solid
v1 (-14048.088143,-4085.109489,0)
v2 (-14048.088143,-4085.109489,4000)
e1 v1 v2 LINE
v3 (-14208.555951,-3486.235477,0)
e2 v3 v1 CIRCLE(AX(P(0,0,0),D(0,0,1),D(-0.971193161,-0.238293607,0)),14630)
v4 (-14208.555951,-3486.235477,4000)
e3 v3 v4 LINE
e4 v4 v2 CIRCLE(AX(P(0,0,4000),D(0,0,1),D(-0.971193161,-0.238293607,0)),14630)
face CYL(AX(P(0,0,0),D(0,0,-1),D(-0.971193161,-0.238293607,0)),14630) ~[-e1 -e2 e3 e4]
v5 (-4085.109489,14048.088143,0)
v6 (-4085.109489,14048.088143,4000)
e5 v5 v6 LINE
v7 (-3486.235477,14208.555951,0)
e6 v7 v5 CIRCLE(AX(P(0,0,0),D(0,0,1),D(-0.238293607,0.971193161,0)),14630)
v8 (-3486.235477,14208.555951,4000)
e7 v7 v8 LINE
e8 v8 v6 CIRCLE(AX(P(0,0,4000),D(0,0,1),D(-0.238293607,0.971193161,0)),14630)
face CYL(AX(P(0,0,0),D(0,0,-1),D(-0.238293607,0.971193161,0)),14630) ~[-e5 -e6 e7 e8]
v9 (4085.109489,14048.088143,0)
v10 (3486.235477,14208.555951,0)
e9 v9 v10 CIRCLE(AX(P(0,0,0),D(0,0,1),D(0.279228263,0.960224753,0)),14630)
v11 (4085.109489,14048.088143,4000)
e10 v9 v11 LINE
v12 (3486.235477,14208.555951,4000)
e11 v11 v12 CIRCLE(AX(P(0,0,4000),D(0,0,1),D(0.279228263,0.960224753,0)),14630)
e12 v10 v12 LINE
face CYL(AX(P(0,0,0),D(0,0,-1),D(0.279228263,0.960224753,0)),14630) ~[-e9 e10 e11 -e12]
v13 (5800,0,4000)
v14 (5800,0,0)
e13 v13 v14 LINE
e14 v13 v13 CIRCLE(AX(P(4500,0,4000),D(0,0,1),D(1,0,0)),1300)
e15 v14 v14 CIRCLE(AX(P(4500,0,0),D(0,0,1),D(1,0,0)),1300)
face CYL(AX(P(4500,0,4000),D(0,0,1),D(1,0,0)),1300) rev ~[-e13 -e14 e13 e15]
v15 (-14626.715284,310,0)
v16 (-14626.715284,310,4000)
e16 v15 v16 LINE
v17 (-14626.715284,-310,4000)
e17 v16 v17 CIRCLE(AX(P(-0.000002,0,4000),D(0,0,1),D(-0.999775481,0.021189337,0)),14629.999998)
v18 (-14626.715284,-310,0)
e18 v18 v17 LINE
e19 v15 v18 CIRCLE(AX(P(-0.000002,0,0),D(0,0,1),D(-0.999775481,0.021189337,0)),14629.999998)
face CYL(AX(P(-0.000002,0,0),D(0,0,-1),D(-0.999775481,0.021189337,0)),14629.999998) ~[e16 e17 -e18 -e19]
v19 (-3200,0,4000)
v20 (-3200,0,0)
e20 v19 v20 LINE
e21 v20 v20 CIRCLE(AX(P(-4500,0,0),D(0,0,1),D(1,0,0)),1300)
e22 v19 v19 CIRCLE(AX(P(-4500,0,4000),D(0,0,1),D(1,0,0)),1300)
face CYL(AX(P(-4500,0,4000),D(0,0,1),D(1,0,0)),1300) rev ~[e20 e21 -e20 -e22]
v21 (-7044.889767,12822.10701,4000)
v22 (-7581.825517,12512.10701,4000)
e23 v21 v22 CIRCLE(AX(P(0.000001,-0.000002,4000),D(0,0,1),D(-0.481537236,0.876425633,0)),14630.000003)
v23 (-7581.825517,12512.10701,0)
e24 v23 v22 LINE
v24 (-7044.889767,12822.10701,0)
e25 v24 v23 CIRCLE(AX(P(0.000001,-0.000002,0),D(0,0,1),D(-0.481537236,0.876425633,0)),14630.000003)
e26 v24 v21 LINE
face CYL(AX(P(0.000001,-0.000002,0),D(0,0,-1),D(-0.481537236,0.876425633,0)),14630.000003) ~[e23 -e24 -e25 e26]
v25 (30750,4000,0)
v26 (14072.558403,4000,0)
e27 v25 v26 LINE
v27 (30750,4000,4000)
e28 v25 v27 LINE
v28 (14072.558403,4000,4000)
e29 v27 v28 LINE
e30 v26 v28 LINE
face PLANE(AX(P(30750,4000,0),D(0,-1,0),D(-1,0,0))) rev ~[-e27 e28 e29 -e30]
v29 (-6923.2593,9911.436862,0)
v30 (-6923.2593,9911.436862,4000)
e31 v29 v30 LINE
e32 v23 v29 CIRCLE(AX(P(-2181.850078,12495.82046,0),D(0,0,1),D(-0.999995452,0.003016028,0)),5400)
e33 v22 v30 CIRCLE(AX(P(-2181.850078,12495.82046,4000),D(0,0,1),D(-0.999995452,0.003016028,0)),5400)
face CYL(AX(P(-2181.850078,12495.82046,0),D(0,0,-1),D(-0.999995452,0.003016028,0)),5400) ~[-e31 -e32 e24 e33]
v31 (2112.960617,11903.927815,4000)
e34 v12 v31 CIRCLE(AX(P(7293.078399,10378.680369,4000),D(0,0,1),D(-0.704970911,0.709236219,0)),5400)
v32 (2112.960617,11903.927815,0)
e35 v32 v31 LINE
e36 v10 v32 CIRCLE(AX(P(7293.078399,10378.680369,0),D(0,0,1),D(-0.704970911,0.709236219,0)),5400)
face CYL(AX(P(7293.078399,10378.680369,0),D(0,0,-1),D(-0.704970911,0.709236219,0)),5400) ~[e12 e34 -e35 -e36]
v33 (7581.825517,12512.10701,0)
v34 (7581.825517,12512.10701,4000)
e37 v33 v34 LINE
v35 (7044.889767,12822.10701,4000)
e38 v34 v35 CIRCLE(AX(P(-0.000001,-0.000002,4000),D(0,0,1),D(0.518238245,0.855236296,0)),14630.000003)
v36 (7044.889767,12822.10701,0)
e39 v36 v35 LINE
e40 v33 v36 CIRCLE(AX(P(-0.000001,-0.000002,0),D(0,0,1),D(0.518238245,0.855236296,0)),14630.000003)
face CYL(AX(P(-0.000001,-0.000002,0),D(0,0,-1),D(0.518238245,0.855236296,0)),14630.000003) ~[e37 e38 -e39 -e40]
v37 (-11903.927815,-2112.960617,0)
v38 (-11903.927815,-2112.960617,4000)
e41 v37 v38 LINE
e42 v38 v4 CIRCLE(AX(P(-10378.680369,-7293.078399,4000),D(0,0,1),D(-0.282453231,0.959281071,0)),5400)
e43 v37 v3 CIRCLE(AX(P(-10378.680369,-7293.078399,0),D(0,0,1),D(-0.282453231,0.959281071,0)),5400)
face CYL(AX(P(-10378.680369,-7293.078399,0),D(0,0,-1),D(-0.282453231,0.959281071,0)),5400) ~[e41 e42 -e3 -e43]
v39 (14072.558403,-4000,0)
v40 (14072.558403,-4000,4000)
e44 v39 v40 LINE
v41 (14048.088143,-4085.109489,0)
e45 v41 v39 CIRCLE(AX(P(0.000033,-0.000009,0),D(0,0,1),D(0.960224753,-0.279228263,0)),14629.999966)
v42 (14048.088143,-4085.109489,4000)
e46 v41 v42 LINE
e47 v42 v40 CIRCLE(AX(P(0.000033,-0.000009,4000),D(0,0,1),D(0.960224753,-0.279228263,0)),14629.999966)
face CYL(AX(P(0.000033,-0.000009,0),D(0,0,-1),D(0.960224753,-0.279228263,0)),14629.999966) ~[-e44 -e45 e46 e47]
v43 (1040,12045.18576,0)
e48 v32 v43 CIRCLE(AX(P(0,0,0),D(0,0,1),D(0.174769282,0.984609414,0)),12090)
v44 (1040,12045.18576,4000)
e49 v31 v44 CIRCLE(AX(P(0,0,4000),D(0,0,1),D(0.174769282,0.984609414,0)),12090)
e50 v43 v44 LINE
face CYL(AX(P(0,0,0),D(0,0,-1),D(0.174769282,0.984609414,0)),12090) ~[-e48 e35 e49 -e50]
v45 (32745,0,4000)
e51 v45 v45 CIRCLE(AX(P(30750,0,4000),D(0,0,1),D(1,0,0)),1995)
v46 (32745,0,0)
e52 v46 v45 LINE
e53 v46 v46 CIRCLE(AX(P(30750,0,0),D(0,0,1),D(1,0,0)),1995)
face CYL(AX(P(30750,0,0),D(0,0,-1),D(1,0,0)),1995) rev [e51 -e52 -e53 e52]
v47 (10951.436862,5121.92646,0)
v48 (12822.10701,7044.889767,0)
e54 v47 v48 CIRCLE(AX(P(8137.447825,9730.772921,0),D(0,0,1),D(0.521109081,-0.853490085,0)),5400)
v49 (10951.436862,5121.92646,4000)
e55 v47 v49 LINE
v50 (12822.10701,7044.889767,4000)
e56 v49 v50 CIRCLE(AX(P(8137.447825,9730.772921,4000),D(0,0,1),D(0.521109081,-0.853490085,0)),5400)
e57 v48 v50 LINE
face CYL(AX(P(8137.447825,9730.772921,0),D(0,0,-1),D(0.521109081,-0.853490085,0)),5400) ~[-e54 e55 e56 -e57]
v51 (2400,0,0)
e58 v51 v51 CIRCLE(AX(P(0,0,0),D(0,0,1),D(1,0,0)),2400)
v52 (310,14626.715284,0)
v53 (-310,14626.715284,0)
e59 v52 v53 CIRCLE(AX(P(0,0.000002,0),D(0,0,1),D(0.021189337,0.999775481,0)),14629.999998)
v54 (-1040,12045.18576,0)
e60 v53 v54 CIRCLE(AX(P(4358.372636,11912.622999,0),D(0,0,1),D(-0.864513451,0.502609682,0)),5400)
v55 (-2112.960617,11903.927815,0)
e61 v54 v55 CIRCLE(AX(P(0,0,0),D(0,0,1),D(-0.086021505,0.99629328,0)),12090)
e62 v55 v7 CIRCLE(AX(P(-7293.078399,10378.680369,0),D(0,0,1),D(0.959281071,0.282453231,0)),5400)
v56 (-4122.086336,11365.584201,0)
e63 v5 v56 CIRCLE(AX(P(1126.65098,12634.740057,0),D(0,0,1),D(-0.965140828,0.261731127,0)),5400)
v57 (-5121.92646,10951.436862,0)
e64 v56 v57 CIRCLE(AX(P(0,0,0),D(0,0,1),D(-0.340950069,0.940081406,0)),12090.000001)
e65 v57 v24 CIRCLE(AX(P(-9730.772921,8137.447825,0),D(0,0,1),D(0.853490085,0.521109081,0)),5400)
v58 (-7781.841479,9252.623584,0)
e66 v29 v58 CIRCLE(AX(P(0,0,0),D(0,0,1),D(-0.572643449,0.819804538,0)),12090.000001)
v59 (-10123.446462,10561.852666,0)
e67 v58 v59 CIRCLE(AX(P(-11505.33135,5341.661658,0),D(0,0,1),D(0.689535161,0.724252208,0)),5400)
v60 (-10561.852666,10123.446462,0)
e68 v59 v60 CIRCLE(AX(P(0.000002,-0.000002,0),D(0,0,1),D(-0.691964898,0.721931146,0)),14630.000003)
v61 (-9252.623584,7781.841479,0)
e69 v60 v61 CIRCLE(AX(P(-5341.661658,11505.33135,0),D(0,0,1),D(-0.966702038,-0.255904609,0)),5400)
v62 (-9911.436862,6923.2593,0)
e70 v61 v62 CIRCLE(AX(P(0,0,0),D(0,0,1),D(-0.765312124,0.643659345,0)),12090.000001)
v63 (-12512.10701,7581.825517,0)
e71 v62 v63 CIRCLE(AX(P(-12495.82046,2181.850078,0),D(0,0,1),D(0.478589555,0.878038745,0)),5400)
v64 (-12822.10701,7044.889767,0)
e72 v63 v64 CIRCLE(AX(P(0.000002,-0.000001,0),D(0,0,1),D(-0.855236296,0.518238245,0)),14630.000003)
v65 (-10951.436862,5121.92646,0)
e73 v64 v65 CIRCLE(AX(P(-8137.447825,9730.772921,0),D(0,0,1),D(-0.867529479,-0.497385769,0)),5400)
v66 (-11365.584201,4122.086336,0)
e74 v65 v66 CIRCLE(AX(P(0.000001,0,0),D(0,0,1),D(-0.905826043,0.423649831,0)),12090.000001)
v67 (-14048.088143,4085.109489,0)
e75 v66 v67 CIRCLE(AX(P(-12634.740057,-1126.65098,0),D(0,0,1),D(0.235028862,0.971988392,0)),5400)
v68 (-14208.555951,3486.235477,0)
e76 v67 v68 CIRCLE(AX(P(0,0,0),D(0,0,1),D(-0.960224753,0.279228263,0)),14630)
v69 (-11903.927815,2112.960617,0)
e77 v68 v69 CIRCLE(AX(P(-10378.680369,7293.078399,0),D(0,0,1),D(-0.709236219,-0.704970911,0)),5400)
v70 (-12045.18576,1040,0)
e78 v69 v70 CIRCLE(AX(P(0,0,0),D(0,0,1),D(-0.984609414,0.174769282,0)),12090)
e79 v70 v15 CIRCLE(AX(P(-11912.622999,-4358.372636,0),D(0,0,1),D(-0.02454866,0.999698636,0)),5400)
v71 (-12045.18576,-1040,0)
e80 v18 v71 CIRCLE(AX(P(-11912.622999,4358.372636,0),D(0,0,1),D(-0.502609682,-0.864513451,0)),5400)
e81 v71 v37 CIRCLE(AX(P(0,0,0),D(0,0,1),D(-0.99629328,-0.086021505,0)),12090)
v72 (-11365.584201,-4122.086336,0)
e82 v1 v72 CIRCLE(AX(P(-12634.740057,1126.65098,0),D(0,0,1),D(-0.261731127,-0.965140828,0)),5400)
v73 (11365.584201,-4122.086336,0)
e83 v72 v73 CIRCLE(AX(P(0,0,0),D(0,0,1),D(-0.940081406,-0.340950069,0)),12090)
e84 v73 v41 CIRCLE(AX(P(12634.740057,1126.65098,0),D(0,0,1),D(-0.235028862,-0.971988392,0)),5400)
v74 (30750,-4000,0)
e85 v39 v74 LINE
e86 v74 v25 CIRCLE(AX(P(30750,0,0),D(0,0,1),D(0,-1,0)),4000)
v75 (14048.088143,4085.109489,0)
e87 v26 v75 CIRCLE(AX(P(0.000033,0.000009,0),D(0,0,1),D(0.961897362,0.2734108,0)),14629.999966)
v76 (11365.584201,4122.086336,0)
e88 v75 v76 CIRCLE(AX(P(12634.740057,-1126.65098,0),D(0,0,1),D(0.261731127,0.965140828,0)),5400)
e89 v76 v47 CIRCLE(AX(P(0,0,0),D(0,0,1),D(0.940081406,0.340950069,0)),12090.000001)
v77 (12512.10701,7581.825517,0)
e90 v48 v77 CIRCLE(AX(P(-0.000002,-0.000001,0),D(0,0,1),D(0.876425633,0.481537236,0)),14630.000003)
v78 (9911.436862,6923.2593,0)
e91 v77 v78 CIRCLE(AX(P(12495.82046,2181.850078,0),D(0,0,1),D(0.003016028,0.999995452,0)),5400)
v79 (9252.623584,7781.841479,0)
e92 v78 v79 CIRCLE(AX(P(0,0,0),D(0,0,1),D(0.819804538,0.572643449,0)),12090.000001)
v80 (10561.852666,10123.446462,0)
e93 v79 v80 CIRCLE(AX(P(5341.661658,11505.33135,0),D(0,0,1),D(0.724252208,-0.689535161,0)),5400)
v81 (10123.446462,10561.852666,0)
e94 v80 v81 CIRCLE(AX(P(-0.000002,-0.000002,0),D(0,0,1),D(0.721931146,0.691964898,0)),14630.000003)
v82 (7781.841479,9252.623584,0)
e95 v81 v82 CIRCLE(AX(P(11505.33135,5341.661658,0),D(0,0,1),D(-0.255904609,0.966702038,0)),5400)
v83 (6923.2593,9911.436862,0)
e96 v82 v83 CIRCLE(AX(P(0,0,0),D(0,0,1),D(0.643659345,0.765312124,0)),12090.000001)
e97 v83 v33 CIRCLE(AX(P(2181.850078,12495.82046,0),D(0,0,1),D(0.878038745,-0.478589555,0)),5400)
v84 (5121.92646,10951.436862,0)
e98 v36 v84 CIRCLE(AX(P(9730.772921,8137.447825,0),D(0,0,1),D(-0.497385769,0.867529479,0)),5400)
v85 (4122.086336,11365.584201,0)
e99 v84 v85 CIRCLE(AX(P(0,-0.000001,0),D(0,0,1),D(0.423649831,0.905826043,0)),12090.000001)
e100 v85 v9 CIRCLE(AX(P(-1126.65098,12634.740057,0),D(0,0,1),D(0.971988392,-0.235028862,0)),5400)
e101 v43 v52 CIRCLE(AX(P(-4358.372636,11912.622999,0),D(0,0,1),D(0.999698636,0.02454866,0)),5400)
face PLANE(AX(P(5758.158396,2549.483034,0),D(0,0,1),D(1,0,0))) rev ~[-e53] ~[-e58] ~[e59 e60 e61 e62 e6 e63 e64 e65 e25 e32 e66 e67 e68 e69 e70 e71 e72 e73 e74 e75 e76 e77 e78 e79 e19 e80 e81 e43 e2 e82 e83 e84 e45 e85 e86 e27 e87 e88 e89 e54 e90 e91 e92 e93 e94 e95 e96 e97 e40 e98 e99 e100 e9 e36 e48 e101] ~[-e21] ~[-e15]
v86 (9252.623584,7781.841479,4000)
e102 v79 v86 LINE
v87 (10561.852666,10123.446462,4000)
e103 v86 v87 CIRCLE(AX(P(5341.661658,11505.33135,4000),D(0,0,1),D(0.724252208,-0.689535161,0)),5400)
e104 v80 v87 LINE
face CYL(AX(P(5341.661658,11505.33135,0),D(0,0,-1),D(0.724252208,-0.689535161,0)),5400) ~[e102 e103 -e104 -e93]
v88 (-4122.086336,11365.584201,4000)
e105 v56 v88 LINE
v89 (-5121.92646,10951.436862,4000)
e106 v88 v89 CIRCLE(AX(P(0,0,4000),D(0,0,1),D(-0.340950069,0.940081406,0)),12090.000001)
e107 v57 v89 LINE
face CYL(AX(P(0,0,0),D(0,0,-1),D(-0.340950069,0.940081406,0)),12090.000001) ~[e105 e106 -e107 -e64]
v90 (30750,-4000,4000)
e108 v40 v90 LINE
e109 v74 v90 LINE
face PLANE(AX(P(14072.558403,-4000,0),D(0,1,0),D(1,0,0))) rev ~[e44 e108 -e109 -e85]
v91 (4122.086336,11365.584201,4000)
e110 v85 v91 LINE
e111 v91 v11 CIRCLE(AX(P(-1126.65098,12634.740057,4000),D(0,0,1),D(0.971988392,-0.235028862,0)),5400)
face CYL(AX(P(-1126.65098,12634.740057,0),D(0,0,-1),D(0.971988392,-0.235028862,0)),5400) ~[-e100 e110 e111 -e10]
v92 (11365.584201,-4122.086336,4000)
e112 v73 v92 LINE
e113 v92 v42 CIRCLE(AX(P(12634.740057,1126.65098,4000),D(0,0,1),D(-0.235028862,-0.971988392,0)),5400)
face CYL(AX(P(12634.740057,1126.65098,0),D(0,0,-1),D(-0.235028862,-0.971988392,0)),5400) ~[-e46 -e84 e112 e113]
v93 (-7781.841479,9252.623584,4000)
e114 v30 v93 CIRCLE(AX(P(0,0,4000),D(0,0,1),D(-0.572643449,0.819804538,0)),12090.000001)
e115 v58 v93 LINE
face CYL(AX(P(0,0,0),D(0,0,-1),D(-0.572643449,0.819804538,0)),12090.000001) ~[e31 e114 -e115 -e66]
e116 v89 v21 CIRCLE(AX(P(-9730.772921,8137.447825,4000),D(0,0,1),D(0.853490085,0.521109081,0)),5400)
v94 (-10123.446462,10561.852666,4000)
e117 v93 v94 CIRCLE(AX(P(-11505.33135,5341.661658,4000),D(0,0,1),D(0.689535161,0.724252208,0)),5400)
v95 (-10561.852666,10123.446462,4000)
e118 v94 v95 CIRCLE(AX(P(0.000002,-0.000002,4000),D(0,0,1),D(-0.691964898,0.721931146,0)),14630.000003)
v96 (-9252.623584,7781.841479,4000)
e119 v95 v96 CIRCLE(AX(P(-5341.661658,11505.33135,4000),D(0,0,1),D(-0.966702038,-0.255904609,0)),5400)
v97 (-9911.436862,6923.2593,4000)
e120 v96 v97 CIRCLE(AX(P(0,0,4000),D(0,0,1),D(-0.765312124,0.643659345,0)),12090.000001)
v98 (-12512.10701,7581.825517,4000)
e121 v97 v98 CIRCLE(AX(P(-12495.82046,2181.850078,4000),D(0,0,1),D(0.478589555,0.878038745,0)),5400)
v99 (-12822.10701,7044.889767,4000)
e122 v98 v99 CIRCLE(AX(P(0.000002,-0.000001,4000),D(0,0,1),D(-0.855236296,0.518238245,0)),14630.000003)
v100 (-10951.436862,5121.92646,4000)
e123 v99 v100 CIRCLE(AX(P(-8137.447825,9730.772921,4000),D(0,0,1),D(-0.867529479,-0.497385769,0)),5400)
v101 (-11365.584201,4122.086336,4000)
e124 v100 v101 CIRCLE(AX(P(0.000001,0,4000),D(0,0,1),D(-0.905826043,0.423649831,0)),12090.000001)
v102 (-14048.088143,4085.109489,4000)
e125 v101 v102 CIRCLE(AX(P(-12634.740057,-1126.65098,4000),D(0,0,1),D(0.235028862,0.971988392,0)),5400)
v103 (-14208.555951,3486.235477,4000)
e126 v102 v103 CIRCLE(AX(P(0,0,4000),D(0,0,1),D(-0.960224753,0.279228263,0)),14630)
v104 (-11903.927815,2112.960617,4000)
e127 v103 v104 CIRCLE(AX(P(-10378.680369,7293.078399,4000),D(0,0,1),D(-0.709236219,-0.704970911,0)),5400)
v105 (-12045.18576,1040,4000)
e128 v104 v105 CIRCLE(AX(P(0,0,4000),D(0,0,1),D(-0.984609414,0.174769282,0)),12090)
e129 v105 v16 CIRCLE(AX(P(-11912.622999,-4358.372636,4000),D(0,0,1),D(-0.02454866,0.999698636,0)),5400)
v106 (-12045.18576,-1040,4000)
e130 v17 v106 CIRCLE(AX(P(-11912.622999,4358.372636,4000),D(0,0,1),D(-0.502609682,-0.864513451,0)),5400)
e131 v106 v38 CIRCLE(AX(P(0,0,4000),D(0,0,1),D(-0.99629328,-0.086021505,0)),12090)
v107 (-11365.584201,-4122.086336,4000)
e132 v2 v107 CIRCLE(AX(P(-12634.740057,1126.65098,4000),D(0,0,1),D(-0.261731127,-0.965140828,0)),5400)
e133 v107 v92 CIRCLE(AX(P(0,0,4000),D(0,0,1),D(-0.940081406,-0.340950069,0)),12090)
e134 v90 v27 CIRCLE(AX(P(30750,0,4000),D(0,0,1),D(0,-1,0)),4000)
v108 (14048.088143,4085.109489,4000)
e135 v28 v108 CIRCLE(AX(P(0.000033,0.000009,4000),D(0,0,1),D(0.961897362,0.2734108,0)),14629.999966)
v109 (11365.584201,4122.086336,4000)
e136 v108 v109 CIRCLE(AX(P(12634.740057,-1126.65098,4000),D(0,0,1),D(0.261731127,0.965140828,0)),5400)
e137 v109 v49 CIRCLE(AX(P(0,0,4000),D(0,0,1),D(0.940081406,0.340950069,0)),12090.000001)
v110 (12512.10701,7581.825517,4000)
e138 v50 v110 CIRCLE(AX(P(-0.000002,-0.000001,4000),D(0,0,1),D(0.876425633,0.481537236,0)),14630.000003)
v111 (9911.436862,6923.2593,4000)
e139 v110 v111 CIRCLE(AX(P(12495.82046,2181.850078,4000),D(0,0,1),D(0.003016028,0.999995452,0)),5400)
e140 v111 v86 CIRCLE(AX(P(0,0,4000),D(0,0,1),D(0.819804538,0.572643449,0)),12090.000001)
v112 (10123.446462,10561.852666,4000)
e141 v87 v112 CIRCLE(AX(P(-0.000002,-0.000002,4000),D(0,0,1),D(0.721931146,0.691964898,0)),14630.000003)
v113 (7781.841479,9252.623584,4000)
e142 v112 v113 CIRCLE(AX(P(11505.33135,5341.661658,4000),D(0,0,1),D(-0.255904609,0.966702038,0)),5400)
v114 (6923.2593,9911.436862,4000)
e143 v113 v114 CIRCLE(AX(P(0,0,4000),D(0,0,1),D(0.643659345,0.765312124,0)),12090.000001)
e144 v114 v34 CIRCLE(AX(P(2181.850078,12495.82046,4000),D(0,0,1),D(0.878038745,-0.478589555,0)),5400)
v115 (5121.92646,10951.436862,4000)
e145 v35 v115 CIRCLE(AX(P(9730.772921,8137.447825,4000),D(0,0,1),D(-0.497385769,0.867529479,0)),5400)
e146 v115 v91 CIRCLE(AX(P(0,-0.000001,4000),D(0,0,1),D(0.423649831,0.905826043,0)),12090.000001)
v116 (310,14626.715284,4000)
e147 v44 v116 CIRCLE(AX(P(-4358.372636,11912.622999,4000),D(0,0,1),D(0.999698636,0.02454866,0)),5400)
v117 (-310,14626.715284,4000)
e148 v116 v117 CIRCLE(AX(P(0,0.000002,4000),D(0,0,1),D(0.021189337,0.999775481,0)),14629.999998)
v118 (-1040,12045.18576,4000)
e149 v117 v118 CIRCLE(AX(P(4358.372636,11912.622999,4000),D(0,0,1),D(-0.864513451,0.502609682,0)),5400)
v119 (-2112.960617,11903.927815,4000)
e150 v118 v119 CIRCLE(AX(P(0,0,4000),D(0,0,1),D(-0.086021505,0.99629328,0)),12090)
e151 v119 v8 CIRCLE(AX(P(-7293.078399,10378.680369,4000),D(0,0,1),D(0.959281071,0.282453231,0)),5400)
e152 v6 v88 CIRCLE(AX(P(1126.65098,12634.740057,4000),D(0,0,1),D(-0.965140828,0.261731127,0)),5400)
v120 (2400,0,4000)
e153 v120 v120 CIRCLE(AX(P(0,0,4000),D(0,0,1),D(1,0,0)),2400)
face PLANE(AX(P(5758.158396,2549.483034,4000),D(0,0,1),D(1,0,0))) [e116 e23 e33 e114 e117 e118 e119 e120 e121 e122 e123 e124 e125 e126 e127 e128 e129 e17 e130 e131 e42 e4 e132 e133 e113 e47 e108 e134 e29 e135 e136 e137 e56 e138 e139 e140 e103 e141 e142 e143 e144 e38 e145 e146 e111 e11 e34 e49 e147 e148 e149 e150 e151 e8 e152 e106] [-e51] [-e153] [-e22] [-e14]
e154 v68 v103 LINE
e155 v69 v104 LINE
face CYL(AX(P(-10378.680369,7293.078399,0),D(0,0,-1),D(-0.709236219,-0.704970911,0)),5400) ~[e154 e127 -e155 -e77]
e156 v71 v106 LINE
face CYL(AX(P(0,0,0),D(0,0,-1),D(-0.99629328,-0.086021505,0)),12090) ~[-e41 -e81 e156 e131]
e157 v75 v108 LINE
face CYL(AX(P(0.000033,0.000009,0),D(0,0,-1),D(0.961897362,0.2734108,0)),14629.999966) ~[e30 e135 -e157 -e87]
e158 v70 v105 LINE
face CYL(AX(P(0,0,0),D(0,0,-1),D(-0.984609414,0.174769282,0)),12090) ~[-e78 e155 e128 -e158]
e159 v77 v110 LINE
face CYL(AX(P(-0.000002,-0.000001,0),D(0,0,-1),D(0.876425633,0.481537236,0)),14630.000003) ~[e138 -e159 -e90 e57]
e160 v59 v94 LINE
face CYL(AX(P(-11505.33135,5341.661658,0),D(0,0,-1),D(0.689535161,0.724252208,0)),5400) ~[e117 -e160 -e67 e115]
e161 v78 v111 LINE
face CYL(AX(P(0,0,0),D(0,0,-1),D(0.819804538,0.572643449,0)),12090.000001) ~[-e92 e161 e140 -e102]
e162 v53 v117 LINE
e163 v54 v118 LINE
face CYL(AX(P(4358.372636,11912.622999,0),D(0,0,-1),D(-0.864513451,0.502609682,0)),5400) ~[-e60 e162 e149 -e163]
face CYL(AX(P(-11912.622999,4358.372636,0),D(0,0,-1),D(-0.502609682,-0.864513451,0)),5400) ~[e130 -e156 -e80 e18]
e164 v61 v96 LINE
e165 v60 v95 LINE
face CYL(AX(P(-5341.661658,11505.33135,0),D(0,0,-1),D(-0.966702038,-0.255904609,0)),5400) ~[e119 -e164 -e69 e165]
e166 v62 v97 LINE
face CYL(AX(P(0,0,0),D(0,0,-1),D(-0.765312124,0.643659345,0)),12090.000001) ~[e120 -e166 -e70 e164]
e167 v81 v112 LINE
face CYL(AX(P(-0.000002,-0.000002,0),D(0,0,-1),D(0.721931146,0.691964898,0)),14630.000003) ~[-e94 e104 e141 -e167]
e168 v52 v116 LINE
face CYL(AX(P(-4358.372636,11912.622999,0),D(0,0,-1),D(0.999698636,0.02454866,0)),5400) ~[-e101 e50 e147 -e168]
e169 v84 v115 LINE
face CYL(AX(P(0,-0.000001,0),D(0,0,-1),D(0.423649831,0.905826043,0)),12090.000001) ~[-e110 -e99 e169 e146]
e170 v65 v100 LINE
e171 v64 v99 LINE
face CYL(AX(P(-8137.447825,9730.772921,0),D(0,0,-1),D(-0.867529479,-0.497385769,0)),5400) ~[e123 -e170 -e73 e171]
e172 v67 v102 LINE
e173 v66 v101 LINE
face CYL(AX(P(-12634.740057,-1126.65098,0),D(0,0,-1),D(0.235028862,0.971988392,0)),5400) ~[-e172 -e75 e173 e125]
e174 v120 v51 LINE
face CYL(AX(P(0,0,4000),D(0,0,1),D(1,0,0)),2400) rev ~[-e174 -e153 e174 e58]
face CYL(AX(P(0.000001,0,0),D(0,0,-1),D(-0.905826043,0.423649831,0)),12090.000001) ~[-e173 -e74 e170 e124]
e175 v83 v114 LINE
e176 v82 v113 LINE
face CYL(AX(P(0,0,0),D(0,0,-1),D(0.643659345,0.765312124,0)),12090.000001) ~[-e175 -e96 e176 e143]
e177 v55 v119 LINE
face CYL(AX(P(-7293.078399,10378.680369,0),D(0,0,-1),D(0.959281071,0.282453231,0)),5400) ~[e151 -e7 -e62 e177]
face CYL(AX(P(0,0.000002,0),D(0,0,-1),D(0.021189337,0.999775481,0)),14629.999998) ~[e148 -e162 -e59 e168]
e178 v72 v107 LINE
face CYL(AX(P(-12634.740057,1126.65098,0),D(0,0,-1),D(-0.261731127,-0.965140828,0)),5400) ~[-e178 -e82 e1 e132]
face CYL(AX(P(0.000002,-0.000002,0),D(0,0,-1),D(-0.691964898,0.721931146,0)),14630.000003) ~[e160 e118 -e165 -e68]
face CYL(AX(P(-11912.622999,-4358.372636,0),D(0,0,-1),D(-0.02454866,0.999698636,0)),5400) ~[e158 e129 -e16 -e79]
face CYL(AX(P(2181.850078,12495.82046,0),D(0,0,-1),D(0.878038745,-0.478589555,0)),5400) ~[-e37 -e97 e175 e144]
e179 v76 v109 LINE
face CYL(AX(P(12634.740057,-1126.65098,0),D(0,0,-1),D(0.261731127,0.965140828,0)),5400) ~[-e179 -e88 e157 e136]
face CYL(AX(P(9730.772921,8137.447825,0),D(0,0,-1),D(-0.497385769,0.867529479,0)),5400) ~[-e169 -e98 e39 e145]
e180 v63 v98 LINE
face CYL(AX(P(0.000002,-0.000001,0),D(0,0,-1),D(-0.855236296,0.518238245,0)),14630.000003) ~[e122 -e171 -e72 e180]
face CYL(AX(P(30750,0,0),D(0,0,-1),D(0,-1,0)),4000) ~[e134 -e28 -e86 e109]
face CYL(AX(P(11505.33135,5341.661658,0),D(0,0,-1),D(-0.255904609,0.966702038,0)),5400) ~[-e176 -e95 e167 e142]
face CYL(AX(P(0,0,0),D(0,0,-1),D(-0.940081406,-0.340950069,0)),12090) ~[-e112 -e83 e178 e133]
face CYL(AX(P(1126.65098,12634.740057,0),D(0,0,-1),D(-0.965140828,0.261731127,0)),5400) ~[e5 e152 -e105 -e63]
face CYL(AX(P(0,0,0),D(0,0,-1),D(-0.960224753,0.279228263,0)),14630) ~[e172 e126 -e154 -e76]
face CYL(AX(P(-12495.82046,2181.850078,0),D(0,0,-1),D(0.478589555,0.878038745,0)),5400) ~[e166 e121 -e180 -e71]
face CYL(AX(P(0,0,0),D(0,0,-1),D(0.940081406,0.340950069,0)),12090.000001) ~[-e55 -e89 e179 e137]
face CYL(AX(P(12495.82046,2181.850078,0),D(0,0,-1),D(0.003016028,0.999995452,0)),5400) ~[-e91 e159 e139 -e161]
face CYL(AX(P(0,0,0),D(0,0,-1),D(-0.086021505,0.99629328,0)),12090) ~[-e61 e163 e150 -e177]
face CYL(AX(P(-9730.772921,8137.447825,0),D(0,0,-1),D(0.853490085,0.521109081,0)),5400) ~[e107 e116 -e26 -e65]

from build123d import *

# Parameters (mm, degrees)
SKETCH2_R           = 1750
SKETCH2_R_2         = 1995
BOSS_EXTRUDE1_DEPTH = 4000
SKETCH3_R           = 1300
SKETCH3_R_2         = 2400
CUT_EXTRUDE1_DEPTH  = 4001


with BuildPart() as part:
    # Sketch2 → Boss-Extrude1 (new body)
    with BuildSketch(Plane.XY):
        with BuildLine():
            Line((14072.558402792, -4000), (30750, -4000))
            ThreePointArc((30750, -4000), (34750, 0), (30750, 4000))
            Line((30750, 4000), (14072.558402792, 4000))
            ThreePointArc((14072.558402792, 4000), (14060.387670314, 4042.573259754), (14048.088142637, 4085.109488948))
            ThreePointArc((14048.088142637, 4085.109488948), (12709.169027193, 4272.836062793), (11365.584201411, 4122.086335903))
            ThreePointArc((11365.584201411, 4122.086335903), (11169.703548061, 4626.642697294), (10951.436861718, 5121.926460211))
            ThreePointArc((10951.436861718, 5121.926460211), (12008.090957274, 5965.388247475), (12822.10700989, 7044.889766841))
            ThreePointArc((12822.10700989, 7044.889766841), (12669.951657366, 7315), (12512.10700989, 7581.825517187))
            ThreePointArc((12512.10700989, 7581.825517187), (11170.223244387, 7416.617696216), (9911.436861718, 6923.259300083))
            ThreePointArc((9911.436861718, 6923.259300083), (9591.641884121, 7359.925676715), (9252.62358419, 7781.841479322))
            ThreePointArc((9252.62358419, 7781.841479322), (10054.969090182, 8870.045207143), (10561.852665989, 10123.446461653))
            ThreePointArc((10561.852665989, 10123.446461653), (10344.972208759, 10344.972208759), (10123.446461653, 10561.852665989))
            ThreePointArc((10123.446461653, 10561.852665989), (8870.045207143, 10054.969090182), (7781.841479322, 9252.62358419))
            ThreePointArc((7781.841479322, 9252.62358419), (7359.925676715, 9591.641884121), (6923.259300083, 9911.436861718))
            ThreePointArc((6923.259300083, 9911.436861718), (7416.617696216, 11170.223244387), (7581.825517187, 12512.10700989))
            ThreePointArc((7581.825517187, 12512.10700989), (7315, 12669.951657366), (7044.889766841, 12822.10700989))
            ThreePointArc((7044.889766841, 12822.10700989), (5965.388247475, 12008.090957274), (5121.926460211, 10951.436861718))
            ThreePointArc((5121.926460211, 10951.436861718), (4626.642697294, 11169.703548061), (4122.086335903, 11365.584201411))
            ThreePointArc((4122.086335903, 11365.584201411), (4272.836062793, 12709.169027193), (4085.109488948, 14048.088142637))
            ThreePointArc((4085.109488948, 14048.088142637), (3786.52262985, 14131.494838609), (3486.235476649, 14208.555950601))
            ThreePointArc((3486.235476649, 14208.555950601), (2654.199937011, 13142.881269936), (2112.960617221, 11903.927815224))
            ThreePointArc((2112.960617221, 11903.927815224), (1578.06166394, 11986.568374009), (1040, 12045.185760294))
            ThreePointArc((1040, 12045.185760294), (837.867712887, 13382.005943691), (310, 14626.715284027))
            ThreePointArc((310, 14626.715284027), (0, 14630), (-310, 14626.715284027))
            ThreePointArc((-310, 14626.715284027), (-837.867712887, 13382.005943691), (-1040, 12045.185760294))
            ThreePointArc((-1040, 12045.185760294), (-1578.06166394, 11986.568374009), (-2112.960617221, 11903.927815224))
            ThreePointArc((-2112.960617221, 11903.927815224), (-2654.199937011, 13142.881269936), (-3486.235476649, 14208.555950601))
            ThreePointArc((-3486.235476649, 14208.555950601), (-3786.52262985, 14131.494838609), (-4085.109488948, 14048.088142637))
            ThreePointArc((-4085.109488948, 14048.088142637), (-4272.836062793, 12709.169027193), (-4122.086335903, 11365.584201411))
            ThreePointArc((-4122.086335903, 11365.584201411), (-4626.642697294, 11169.703548061), (-5121.926460211, 10951.436861718))
            ThreePointArc((-5121.926460211, 10951.436861718), (-5965.388247475, 12008.090957274), (-7044.889766841, 12822.10700989))
            ThreePointArc((-7044.889766841, 12822.10700989), (-7315, 12669.951657366), (-7581.825517187, 12512.10700989))
            ThreePointArc((-7581.825517187, 12512.10700989), (-7416.617696216, 11170.223244387), (-6923.259300083, 9911.436861718))
            ThreePointArc((-6923.259300083, 9911.436861718), (-7359.925676715, 9591.641884121), (-7781.841479322, 9252.62358419))
            ThreePointArc((-7781.841479322, 9252.62358419), (-8870.045207143, 10054.969090182), (-10123.446461653, 10561.852665989))
            ThreePointArc((-10123.446461653, 10561.852665989), (-10344.972208759, 10344.972208759), (-10561.852665989, 10123.446461653))
            ThreePointArc((-10561.852665989, 10123.446461653), (-10054.969090182, 8870.045207143), (-9252.62358419, 7781.841479322))
            ThreePointArc((-9252.62358419, 7781.841479322), (-9591.641884121, 7359.925676715), (-9911.436861718, 6923.259300083))
            ThreePointArc((-9911.436861718, 6923.259300083), (-11170.223244387, 7416.617696216), (-12512.10700989, 7581.825517187))
            ThreePointArc((-12512.10700989, 7581.825517187), (-12669.951657366, 7315), (-12822.10700989, 7044.889766841))
            ThreePointArc((-12822.10700989, 7044.889766841), (-12008.090957274, 5965.388247475), (-10951.436861718, 5121.926460211))
            ThreePointArc((-10951.436861718, 5121.926460211), (-11169.703548061, 4626.642697294), (-11365.584201411, 4122.086335903))
            ThreePointArc((-11365.584201411, 4122.086335903), (-12709.169027193, 4272.836062793), (-14048.088142637, 4085.109488948))
            ThreePointArc((-14048.088142637, 4085.109488948), (-14131.494838609, 3786.52262985), (-14208.555950601, 3486.235476649))
            ThreePointArc((-14208.555950601, 3486.235476649), (-13142.881269936, 2654.199937011), (-11903.927815224, 2112.960617221))
            ThreePointArc((-11903.927815224, 2112.960617221), (-11986.568374009, 1578.06166394), (-12045.185760294, 1040))
            ThreePointArc((-12045.185760294, 1040), (-13382.005943691, 837.867712887), (-14626.715284027, 310))
            ThreePointArc((-14626.715284027, 310), (-14630, 0), (-14626.715284027, -310))
            ThreePointArc((-14626.715284027, -310), (-13382.005943691, -837.867712887), (-12045.185760294, -1040))
            ThreePointArc((-12045.185760294, -1040), (-11986.568374009, -1578.06166394), (-11903.927815224, -2112.960617221))
            ThreePointArc((-11903.927815224, -2112.960617221), (-13142.881269936, -2654.199937011), (-14208.555950601, -3486.235476649))
            ThreePointArc((-14208.555950601, -3486.235476649), (-14131.494838609, -3786.52262985), (-14048.088142637, -4085.109488948))
            ThreePointArc((-14048.088142637, -4085.109488948), (-12709.169027193, -4272.836062793), (-11365.584201411, -4122.086335903))
            ThreePointArc((-11365.584201411, -4122.086335903), (0, -12090), (11365.584201411, -4122.086335903))
            ThreePointArc((11365.584201411, -4122.086335903), (12709.169027193, -4272.836062793), (14048.088142637, -4085.109488948))
            ThreePointArc((14048.088142637, -4085.109488948), (14060.387670314, -4042.573259754), (14072.558402792, -4000))
        make_face()
        Circle(SKETCH2_R, mode=Mode.SUBTRACT)
        with Locations((30750, 0)):
            Circle(SKETCH2_R_2, mode=Mode.SUBTRACT)
    extrude(amount=BOSS_EXTRUDE1_DEPTH)

    # Sketch3 → Cut-Extrude1 (cut, through all)
    with BuildSketch(Plane.XY.offset(4000)):
        with Locations((4500, 0)):
            Circle(SKETCH3_R)
        with Locations((-4500, 0)):
            Circle(SKETCH3_R)
        Circle(SKETCH3_R_2)
    extrude(amount=-CUT_EXTRUDE1_DEPTH, mode=Mode.SUBTRACT)


solid = part.part
